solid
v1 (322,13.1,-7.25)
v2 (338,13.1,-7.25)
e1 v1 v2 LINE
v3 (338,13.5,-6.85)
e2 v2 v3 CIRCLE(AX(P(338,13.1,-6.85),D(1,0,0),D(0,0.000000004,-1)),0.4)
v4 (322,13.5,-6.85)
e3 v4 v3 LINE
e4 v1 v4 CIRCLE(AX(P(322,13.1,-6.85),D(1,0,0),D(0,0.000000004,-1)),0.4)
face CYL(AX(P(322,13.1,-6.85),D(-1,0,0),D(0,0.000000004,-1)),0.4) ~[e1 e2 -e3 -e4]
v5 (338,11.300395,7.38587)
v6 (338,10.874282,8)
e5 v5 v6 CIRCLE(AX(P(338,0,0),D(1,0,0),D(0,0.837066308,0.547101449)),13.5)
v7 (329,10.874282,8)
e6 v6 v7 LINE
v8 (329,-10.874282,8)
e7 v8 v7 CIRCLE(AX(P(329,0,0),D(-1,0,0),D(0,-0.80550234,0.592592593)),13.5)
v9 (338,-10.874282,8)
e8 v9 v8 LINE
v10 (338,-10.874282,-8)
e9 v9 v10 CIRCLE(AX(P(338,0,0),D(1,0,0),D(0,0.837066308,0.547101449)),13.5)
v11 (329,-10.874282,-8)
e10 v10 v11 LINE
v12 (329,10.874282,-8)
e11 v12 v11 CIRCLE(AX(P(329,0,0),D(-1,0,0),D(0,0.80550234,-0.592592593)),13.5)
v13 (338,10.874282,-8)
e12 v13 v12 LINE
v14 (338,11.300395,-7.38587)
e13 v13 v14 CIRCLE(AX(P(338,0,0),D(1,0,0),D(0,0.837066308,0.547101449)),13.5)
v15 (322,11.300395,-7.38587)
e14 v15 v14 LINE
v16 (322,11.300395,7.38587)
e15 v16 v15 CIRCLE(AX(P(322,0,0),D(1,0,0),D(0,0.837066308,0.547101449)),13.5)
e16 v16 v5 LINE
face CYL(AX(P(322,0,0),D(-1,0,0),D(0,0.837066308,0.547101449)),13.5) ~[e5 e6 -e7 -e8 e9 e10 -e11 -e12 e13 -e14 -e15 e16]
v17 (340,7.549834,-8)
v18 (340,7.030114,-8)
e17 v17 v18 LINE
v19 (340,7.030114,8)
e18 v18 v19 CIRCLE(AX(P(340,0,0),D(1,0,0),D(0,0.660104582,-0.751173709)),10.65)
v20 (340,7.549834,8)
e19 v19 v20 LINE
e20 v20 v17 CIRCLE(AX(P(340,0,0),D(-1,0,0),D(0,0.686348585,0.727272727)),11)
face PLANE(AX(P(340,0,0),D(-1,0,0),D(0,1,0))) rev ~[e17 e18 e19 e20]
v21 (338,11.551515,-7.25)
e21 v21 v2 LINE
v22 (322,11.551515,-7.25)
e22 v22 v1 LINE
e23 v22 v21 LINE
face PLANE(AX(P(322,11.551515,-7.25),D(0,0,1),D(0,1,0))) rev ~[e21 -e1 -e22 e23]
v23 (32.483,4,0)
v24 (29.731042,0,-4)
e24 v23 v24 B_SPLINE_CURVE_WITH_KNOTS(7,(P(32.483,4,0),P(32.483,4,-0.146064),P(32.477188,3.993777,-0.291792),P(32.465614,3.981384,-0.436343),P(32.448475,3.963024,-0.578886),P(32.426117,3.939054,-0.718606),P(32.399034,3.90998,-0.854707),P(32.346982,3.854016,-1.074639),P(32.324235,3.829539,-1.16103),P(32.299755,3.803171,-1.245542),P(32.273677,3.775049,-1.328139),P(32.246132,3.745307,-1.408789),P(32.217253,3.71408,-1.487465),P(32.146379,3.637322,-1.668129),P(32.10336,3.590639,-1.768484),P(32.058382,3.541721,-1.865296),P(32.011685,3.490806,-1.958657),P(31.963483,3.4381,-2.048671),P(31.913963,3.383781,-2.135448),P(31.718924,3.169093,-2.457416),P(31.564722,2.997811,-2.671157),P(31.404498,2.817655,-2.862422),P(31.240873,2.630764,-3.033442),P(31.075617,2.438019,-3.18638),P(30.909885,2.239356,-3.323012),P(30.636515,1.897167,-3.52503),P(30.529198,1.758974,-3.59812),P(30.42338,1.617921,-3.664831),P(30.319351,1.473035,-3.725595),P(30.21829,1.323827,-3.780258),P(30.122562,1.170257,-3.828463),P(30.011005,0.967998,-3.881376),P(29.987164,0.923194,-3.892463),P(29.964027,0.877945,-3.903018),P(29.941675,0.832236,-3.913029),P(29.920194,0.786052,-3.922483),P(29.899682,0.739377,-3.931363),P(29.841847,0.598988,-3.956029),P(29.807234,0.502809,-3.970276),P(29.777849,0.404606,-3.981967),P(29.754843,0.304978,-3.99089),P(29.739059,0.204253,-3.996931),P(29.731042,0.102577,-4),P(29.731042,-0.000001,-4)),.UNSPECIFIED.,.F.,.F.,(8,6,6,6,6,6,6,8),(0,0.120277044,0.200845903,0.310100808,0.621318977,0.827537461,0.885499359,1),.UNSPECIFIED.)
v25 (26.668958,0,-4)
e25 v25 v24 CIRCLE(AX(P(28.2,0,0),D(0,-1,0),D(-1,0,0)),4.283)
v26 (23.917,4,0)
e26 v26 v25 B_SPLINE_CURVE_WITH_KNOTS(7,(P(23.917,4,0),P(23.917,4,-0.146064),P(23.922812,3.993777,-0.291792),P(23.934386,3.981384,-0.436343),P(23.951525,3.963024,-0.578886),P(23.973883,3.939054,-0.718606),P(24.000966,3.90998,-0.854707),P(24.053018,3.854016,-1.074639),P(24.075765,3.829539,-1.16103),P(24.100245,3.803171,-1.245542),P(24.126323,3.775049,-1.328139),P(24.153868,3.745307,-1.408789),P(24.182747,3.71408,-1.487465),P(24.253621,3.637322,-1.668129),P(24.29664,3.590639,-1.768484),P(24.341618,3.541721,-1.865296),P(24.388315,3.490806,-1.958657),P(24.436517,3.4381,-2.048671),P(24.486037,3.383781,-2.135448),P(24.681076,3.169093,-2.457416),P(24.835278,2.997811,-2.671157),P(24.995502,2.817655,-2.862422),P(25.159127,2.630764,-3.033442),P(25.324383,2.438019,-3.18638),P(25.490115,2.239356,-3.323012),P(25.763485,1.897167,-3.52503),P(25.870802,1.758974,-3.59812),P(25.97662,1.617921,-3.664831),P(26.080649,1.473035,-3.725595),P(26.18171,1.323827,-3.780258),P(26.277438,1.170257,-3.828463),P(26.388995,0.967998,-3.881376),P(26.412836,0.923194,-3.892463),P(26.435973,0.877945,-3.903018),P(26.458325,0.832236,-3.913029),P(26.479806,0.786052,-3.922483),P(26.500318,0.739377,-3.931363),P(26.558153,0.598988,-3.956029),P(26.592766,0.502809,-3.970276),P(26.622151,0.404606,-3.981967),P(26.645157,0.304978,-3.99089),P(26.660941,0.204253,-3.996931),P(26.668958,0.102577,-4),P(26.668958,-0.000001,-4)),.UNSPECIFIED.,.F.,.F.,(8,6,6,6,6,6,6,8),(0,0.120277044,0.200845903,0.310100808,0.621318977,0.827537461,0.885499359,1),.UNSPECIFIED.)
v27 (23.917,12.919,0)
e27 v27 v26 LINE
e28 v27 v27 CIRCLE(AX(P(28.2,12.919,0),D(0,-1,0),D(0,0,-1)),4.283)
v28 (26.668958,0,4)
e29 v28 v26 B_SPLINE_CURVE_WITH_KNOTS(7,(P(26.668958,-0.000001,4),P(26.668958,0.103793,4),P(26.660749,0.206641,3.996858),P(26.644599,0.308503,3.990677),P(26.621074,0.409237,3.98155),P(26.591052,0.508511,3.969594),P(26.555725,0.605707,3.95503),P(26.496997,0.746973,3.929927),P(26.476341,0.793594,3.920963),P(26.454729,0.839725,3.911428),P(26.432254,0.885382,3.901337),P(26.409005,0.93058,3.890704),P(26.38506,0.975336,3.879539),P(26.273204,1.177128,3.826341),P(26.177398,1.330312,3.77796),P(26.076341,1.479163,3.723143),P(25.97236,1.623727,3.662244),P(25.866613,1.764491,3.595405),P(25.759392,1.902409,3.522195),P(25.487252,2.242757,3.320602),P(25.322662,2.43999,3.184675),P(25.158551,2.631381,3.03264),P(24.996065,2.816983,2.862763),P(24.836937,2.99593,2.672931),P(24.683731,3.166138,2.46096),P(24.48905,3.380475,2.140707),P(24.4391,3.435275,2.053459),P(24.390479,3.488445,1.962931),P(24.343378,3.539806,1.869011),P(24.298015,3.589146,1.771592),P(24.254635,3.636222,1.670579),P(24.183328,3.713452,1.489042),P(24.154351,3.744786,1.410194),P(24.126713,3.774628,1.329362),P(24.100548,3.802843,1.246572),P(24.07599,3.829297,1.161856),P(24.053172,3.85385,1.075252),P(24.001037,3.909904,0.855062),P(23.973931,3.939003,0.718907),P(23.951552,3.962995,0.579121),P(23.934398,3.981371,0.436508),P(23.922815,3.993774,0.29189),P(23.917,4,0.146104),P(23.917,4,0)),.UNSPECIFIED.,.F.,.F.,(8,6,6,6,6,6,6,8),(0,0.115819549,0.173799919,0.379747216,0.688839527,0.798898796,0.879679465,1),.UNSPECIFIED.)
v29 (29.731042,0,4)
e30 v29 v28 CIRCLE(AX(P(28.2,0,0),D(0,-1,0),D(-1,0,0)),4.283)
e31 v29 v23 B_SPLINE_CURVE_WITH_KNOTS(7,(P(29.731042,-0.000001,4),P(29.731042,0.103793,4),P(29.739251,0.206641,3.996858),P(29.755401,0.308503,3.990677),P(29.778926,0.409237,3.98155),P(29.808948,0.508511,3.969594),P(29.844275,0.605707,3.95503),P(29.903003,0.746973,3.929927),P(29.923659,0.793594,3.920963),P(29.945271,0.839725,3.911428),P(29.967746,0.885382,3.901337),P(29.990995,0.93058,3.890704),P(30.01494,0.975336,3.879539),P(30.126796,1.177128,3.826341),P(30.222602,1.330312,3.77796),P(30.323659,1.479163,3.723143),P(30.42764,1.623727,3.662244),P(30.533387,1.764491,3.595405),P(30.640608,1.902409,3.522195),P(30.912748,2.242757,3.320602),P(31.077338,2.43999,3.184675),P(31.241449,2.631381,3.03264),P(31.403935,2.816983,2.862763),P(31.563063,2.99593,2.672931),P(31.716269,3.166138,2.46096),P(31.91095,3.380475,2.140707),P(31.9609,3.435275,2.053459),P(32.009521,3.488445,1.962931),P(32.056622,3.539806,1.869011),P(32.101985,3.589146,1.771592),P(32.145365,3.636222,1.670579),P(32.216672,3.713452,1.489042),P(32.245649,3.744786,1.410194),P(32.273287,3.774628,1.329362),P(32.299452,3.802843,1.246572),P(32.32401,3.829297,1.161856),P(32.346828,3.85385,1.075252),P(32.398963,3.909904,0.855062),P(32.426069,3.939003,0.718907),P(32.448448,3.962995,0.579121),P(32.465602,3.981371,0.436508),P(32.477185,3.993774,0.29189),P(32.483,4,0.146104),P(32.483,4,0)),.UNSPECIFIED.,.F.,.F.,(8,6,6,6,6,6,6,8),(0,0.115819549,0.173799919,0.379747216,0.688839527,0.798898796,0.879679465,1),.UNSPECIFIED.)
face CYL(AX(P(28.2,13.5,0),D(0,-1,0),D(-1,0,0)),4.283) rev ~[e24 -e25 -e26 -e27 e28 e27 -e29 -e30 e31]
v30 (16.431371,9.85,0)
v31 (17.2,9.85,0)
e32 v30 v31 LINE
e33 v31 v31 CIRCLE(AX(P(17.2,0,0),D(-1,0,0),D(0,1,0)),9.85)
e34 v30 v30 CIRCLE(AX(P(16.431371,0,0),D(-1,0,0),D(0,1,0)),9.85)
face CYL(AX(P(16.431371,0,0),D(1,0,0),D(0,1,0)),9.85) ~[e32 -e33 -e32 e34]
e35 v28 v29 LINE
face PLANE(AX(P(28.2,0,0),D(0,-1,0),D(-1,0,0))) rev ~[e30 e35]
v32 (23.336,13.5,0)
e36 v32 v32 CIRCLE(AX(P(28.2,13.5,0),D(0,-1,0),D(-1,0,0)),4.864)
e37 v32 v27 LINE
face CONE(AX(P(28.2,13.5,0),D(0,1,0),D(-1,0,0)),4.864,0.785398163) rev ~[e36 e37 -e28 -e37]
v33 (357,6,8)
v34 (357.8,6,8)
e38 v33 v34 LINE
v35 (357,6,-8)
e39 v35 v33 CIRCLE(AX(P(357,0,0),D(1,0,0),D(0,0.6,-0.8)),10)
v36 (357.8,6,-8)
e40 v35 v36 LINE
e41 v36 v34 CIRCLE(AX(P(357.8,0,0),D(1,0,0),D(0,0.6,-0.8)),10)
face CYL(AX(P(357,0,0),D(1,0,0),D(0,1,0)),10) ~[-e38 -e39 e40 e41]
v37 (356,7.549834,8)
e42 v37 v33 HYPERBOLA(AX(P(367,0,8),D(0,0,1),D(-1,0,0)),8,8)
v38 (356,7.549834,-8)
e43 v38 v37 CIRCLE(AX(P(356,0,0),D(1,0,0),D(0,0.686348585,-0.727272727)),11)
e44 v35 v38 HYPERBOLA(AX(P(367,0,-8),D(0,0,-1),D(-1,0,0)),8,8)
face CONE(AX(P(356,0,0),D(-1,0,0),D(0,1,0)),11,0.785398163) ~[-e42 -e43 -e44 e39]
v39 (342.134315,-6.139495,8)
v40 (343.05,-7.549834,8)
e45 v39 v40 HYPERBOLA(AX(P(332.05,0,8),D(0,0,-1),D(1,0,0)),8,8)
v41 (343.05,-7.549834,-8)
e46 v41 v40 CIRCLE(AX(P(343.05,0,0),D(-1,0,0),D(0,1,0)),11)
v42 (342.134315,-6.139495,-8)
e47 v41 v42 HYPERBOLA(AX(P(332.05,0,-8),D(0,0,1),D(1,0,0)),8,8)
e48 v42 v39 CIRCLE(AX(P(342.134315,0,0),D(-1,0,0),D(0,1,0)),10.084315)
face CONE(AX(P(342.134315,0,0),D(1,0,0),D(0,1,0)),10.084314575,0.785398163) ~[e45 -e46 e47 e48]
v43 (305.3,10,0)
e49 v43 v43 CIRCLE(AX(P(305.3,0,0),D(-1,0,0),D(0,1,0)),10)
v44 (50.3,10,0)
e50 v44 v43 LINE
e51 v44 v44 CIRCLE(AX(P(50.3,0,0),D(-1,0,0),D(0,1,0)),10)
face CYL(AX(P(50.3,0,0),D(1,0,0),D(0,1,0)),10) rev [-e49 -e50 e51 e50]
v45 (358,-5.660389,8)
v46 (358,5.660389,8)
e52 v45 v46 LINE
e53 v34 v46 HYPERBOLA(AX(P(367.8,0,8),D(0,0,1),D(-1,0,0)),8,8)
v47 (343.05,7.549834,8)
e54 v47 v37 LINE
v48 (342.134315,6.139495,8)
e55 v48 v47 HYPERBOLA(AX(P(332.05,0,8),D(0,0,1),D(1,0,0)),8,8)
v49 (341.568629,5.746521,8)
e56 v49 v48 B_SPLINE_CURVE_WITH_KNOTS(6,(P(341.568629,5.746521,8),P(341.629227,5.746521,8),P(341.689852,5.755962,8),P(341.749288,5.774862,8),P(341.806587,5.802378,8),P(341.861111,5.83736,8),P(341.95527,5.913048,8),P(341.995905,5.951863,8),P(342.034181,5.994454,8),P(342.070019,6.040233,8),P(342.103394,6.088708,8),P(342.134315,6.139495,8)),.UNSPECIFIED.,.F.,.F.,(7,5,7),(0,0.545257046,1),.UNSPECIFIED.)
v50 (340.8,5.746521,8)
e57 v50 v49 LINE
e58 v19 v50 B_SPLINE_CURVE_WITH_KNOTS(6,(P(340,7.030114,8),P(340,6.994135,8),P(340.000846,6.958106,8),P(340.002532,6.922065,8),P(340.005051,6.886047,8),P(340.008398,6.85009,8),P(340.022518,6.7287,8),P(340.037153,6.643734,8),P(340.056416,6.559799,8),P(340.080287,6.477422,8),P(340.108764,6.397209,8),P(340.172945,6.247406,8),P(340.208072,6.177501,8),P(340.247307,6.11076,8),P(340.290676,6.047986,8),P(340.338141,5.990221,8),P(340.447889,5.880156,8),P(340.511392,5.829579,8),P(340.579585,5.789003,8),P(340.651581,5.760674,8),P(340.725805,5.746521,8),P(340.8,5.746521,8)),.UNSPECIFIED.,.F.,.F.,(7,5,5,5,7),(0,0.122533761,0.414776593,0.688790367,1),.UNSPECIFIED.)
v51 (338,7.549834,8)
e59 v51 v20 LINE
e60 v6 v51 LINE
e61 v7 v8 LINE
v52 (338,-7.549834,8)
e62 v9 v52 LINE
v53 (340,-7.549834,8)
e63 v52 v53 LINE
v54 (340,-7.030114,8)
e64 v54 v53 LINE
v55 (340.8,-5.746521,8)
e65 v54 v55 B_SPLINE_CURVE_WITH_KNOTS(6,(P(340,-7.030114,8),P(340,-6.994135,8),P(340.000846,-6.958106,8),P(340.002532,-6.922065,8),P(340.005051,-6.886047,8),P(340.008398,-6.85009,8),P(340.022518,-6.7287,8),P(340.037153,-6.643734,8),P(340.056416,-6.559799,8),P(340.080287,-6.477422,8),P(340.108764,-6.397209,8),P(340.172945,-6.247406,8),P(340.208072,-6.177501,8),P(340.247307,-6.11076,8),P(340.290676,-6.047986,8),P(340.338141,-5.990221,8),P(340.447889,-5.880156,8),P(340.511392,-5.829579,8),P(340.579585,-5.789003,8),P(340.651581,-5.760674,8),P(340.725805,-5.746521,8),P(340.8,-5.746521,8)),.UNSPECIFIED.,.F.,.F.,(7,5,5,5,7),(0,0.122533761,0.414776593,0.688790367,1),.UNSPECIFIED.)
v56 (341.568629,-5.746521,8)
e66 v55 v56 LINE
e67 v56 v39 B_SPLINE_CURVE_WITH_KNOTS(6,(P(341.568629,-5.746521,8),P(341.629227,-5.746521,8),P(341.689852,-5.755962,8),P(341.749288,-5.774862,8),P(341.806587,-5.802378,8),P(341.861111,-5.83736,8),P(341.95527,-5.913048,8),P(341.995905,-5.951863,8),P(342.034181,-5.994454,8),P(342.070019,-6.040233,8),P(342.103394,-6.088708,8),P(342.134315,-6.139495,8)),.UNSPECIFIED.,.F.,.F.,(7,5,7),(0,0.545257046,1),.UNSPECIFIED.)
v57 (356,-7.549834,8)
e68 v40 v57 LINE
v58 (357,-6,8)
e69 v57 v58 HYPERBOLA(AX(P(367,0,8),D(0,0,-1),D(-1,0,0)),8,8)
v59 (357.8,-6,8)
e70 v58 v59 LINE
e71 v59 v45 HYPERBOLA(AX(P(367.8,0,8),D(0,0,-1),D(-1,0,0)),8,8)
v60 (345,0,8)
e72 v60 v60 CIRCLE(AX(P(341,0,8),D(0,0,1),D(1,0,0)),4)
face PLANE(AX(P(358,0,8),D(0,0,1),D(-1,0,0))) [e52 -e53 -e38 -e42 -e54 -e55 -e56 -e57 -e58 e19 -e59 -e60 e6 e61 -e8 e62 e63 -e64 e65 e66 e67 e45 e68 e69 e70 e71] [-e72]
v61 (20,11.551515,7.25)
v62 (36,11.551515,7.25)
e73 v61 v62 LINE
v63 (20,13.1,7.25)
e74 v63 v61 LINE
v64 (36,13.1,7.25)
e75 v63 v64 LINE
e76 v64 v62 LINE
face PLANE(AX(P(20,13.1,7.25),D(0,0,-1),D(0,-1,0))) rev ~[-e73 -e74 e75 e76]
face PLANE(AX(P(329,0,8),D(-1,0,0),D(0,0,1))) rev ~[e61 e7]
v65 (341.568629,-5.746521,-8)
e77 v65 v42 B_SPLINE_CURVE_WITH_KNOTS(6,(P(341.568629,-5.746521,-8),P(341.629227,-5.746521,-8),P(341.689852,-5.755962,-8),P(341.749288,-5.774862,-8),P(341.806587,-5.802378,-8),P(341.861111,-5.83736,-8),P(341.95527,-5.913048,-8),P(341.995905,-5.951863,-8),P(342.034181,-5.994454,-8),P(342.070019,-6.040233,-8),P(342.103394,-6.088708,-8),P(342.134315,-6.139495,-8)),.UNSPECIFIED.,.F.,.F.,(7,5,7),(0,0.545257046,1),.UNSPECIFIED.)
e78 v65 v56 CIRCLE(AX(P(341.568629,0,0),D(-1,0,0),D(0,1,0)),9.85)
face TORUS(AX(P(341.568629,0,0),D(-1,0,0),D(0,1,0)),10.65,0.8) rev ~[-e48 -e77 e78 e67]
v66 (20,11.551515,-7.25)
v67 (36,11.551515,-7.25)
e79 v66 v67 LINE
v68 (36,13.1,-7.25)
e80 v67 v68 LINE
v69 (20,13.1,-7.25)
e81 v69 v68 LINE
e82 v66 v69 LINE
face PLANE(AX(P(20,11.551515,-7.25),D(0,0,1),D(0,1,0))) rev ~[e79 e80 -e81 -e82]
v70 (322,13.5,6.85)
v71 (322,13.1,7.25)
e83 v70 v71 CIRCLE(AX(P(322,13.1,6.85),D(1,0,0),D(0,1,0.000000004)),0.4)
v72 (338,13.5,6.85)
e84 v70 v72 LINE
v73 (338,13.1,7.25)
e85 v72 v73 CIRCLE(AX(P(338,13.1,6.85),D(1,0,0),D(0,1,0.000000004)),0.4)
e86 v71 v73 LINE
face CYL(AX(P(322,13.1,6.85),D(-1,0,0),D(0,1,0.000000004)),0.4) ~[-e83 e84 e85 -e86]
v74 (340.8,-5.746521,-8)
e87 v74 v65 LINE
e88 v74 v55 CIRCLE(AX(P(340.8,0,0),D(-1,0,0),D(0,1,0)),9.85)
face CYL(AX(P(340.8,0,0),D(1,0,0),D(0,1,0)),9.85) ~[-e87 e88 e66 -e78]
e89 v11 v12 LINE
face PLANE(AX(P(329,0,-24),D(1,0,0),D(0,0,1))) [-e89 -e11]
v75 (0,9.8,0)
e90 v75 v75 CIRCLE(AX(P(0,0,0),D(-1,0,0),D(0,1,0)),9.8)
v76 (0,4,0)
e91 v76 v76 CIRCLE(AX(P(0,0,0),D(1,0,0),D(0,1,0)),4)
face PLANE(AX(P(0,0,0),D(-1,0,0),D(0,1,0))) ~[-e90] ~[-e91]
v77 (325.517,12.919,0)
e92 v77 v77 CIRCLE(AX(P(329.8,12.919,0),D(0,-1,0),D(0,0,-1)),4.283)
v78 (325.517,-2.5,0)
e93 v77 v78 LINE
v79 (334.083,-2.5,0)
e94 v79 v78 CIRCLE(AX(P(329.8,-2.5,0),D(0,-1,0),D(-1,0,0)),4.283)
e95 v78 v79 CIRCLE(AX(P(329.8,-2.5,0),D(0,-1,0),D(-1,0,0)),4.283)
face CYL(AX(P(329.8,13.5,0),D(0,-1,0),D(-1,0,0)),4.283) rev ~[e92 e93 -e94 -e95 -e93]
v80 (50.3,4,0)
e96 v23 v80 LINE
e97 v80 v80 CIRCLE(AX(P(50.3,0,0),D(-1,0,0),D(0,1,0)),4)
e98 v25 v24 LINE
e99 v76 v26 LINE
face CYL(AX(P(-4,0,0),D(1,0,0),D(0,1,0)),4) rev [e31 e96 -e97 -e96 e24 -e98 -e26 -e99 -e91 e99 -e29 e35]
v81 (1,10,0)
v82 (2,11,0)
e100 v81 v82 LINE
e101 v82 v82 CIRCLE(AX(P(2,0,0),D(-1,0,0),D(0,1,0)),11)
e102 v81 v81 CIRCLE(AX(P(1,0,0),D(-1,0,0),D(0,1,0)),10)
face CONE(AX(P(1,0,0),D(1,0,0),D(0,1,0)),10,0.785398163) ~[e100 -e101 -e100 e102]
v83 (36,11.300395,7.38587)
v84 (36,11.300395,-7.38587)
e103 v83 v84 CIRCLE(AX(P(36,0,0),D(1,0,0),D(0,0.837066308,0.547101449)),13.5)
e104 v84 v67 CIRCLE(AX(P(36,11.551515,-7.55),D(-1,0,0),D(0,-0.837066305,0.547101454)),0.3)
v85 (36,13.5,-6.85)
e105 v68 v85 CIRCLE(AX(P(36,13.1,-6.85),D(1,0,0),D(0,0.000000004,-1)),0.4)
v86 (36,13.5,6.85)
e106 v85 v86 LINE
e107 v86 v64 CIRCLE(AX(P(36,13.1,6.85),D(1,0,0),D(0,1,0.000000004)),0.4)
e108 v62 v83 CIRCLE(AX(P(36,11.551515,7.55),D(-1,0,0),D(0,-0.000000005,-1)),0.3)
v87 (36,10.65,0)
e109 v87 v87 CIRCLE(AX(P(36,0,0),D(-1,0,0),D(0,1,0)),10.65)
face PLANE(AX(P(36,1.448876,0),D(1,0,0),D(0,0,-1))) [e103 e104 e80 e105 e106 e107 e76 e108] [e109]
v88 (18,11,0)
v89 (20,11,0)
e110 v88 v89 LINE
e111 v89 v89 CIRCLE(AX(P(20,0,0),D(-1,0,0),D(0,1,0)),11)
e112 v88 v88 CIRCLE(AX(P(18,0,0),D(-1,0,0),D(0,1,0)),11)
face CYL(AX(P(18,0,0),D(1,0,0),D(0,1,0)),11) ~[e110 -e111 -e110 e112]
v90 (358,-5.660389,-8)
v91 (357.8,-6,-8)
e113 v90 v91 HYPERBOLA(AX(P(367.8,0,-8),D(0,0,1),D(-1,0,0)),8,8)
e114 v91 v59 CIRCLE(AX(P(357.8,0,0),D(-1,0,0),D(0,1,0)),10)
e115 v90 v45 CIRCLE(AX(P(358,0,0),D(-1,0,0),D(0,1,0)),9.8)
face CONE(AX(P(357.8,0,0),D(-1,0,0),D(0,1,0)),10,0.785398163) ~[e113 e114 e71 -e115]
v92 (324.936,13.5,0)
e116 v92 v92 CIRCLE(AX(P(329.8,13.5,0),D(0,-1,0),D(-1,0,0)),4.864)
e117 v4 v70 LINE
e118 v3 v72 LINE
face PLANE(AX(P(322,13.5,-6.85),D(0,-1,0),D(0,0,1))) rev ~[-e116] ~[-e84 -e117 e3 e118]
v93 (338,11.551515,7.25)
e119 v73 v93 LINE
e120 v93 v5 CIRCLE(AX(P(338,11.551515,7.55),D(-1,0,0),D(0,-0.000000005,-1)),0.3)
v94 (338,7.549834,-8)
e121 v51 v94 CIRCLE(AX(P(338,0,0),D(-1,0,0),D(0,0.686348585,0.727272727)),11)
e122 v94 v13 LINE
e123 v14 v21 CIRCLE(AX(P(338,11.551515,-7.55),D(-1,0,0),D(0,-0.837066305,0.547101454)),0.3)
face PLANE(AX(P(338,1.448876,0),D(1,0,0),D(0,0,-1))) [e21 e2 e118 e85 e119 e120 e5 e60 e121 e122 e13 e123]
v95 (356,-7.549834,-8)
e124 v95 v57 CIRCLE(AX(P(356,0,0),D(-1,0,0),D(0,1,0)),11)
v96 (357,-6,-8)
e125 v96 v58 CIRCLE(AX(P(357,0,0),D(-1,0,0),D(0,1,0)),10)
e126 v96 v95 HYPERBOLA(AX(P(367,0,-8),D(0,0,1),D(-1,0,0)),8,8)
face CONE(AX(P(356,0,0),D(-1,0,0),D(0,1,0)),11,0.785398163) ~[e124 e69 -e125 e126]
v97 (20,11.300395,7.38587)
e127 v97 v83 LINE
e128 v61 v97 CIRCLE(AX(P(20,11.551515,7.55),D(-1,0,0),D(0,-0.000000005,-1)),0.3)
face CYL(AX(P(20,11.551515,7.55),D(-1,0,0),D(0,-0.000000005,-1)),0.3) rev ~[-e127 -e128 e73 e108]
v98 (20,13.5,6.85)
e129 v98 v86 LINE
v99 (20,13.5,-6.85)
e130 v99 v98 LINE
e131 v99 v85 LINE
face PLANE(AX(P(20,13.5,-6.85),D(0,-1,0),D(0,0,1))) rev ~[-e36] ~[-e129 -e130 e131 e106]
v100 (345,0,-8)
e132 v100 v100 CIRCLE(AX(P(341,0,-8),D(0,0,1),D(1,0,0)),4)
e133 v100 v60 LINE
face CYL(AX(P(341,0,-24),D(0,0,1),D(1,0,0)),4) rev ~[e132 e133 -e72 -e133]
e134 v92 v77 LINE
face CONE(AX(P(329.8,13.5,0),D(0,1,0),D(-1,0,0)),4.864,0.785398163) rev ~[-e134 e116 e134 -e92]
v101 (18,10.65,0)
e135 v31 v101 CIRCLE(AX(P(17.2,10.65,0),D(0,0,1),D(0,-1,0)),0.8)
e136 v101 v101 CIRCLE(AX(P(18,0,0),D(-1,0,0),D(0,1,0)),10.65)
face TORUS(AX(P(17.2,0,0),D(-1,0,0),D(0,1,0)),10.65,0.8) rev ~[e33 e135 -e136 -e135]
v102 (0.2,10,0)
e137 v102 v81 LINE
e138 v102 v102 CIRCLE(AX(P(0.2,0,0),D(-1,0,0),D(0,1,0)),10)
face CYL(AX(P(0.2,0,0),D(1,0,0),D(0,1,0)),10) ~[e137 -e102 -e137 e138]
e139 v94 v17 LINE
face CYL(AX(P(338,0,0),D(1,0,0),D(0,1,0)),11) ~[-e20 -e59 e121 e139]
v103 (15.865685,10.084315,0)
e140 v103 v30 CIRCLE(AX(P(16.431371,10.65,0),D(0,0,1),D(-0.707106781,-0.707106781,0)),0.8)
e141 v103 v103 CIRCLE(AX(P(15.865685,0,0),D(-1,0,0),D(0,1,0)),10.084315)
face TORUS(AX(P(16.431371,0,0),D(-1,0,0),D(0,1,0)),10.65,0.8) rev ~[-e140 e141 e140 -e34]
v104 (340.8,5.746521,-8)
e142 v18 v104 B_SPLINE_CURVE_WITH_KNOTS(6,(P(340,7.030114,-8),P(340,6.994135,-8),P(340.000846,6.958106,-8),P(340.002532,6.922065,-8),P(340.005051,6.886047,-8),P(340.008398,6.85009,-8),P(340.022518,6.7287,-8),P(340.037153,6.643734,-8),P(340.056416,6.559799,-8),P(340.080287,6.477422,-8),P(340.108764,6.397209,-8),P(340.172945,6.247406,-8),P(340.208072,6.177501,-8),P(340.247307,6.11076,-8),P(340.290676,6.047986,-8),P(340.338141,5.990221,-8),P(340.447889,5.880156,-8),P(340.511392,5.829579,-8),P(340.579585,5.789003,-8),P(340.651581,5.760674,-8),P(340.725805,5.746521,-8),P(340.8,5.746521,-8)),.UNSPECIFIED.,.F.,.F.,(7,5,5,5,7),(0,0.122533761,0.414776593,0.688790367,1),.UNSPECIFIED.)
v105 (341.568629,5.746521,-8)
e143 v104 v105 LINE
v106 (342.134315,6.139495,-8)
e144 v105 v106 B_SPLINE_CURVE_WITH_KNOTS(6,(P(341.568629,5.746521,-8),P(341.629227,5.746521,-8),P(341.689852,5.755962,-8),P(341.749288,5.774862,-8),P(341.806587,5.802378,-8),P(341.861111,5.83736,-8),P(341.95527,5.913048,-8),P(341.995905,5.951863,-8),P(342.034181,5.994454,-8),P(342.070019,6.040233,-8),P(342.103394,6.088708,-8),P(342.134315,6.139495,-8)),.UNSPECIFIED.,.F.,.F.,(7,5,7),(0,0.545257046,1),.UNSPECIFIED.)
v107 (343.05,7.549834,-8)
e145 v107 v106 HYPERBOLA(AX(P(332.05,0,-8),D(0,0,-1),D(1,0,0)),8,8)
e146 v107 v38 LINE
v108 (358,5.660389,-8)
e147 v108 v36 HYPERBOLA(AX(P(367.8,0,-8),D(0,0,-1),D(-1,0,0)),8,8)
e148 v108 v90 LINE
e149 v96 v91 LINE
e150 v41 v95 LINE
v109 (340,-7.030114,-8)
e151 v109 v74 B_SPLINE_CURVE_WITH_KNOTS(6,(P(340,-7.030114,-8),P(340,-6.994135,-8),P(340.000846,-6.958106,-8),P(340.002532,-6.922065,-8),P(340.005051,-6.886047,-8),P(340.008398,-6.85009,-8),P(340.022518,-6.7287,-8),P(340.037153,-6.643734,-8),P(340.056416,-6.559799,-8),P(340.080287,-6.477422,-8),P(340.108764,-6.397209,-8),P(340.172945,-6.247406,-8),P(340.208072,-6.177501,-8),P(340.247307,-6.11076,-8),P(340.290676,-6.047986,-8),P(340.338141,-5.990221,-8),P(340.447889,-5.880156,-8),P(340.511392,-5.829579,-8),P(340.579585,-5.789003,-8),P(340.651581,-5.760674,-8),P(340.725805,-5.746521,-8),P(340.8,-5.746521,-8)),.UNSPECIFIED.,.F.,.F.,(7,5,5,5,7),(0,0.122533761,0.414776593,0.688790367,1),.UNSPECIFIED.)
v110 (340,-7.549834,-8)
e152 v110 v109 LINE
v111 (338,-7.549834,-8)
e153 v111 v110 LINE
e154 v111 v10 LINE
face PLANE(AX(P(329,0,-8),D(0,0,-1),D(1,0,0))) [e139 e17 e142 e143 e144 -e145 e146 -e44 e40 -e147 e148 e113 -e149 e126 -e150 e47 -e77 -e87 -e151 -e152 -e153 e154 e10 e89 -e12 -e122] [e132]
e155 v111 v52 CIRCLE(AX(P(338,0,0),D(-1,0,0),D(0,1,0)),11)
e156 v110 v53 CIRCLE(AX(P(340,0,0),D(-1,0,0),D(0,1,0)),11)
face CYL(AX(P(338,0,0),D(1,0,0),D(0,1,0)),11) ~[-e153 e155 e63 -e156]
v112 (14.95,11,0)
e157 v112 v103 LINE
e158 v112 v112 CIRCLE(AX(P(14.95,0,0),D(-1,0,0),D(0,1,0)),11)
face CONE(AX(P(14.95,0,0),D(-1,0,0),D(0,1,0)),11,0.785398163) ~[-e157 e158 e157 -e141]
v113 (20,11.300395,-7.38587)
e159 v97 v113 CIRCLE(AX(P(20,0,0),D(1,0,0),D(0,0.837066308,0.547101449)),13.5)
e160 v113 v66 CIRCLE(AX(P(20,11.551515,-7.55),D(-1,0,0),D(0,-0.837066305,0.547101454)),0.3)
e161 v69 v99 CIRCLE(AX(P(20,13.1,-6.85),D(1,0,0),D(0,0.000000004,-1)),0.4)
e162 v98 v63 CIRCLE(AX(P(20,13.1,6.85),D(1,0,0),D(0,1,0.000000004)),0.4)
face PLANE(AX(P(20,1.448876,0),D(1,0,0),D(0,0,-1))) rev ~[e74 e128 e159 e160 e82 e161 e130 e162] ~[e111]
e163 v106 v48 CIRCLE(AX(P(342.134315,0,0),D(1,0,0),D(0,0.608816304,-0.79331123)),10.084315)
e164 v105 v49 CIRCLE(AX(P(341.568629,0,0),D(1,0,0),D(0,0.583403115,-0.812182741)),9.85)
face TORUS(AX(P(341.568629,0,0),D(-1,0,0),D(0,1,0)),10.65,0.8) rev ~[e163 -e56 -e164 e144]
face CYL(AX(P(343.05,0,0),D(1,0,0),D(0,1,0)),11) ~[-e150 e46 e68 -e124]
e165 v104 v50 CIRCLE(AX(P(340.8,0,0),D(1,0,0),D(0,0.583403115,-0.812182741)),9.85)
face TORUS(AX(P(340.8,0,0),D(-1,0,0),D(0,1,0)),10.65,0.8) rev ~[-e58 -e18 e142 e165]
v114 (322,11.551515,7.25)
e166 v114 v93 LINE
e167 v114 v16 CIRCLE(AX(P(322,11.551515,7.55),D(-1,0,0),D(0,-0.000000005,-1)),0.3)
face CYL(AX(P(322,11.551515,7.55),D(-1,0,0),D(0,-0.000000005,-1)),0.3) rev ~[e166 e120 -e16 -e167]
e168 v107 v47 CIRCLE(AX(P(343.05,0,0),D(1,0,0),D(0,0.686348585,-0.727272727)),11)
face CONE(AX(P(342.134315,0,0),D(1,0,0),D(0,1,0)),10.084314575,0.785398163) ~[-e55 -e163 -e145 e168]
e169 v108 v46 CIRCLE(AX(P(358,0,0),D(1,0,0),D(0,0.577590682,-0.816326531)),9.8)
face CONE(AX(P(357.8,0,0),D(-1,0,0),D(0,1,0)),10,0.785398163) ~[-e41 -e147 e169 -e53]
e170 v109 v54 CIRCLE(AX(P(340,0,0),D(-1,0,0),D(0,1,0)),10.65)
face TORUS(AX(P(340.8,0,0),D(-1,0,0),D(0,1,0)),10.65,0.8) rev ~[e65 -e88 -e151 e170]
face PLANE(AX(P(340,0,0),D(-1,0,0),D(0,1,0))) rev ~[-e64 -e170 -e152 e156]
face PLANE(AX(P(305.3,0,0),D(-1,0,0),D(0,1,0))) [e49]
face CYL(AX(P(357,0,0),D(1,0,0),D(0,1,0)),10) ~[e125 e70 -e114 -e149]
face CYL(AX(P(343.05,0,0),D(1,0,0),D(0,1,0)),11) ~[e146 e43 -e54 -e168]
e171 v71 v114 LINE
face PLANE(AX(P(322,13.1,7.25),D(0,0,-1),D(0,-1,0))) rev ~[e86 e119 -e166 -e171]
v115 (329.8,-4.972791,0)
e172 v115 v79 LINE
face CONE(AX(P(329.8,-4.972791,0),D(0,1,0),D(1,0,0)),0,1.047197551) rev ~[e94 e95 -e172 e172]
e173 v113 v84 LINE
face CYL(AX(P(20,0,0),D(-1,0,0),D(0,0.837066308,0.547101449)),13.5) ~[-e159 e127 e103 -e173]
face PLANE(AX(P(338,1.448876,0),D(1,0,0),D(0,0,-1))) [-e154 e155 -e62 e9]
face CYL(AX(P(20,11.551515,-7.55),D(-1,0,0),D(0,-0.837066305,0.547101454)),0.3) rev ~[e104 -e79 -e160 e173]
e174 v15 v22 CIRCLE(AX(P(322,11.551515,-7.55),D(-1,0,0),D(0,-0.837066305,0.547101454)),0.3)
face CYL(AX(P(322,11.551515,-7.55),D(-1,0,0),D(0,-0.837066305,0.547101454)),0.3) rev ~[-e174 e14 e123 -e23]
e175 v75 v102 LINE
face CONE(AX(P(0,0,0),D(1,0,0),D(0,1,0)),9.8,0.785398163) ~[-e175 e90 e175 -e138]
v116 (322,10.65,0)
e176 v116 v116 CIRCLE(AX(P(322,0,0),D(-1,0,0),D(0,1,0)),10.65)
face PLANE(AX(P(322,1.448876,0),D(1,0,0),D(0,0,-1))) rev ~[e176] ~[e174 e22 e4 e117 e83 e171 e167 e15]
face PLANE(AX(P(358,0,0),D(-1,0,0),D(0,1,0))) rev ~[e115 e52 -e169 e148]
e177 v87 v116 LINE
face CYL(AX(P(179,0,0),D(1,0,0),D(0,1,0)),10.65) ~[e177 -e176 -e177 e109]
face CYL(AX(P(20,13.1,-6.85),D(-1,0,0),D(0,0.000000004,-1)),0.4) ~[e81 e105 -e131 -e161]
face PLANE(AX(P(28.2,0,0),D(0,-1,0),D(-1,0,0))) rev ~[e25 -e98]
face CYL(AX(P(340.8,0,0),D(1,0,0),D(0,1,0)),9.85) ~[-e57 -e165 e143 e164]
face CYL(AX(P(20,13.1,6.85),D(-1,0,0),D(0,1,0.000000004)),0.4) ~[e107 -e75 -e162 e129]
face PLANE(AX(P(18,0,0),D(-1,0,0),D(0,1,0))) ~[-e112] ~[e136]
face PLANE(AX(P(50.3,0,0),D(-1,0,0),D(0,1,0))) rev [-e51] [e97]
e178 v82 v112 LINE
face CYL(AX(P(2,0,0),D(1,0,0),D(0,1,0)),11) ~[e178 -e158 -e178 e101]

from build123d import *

# Parameters (mm, degrees)
BOSS_EXTRUDE1_DEPTH     = 16
SKETCH3_W               = 286
SKETCH3_H               = 10.65
BOSS_EXTRUDE2_DEPTH     = 16
CUT_EXTRUDE1_DEPTH      = 13.5
CUT_EXTRUDE1_DEPTH_BACK = 13.5
HOLE1_D                 = 8
HOLE2_D                 = 8.566
HOLE2_DEPTH             = 13.5
HOLE2_CSINK_D           = 9.728
HOLE2_CSINK_ANGLE       = 90
HOLE3_D                 = 8.566
HOLE3_DEPTH             = 16
HOLE3_CSINK_D           = 9.728
HOLE3_CSINK_ANGLE       = 90
HOLE3_TIP               = 2.472791203


with BuildPart() as part:
    # Sketch1 → Revolve1 (revolve)
    with BuildSketch(Plane.XY):
        with BuildLine():
            Line((0, 0), (0, 9.8))
            Line((0, 9.8), (0.2, 10))
            Line((0.2, 10), (1, 10))
            Line((1, 10), (2, 11))
            Line((2, 11), (14.95, 11))
            Line((14.95, 11), (15.865685425, 10.084314575))
            ThreePointArc((15.865685425, 10.084314575), (16.125224104, 9.910896374), (16.43137085, 9.85))
            Line((16.43137085, 9.85), (17.2, 9.85))
            ThreePointArc((17.2, 9.85), (17.765685425, 10.084314575), (18, 10.65))
            Line((18, 10.65), (18, 11))
            Line((18, 11), (20, 11))
            Line((20, 11), (20, 0))
            Line((20, 0), (0, 0))
        make_face()
    revolve(axis=Axis((20, 0, 0), (-1, 0, 0)))

    # Sketch2 → Boss-Extrude1 (add)
    with BuildSketch(Plane(origin=(20, 0, 0), x_dir=(0, 0, -1), z_dir=(1, 0, 0))):
        with BuildLine():
            Line((7.25, 11.551515052), (7.25, 13.1))
            ThreePointArc((7.25, 13.1), (7.132842712, 13.382842712), (6.85, 13.5))
            Line((6.85, 13.5), (-6.85, 13.5))
            ThreePointArc((-6.85, 13.5), (-7.132842712, 13.382842712), (-7.25, 13.1))
            Line((-7.25, 13.1), (-7.25, 11.551515052))
            ThreePointArc((-7.25, 11.551515052), (-7.286144803, 11.408754992), (-7.385869565, 11.30039516))
            ThreePointArc((-7.385869565, 11.30039516), (0, -13.5), (7.385869565, 11.30039516))
            ThreePointArc((7.385869565, 11.30039516), (7.286144803, 11.408754992), (7.25, 11.551515052))
        make_face()
    extrude(amount=BOSS_EXTRUDE1_DEPTH)

    # Sketch3 → Revolve2 (revolve)
    with BuildSketch(Plane.XY):
        with Locations((179, 5.325)):
            Rectangle(SKETCH3_W, SKETCH3_H)
    revolve(axis=Axis((322, 0, 0), (-1, 0, 0)))

    # Sketch4 → Boss-Extrude2 (add)
    with BuildSketch(Plane(origin=(322, 0, 0), x_dir=(0, 0, -1), z_dir=(1, 0, 0))):
        with BuildLine():
            Line((7.25, 11.551515052), (7.25, 13.1))
            ThreePointArc((7.25, 13.1), (7.132842712, 13.382842712), (6.85, 13.5))
            Line((6.85, 13.5), (-6.85, 13.5))
            ThreePointArc((-6.85, 13.5), (-7.132842712, 13.382842712), (-7.25, 13.1))
            Line((-7.25, 13.1), (-7.25, 11.551515052))
            ThreePointArc((-7.25, 11.551515052), (-7.286144803, 11.408754992), (-7.385869565, 11.30039516))
            ThreePointArc((-7.385869565, 11.30039516), (0, -13.5), (7.385869565, 11.30039516))
            ThreePointArc((7.385869565, 11.30039516), (7.286144803, 11.408754992), (7.25, 11.551515052))
        make_face()
    extrude(amount=BOSS_EXTRUDE2_DEPTH)

    # Sketch5 → Revolve3 (revolve)
    with BuildSketch(Plane.XY):
        with BuildLine():
            Line((338, 0), (338, 11))
            Line((338, 11), (340, 11))
            Line((340, 11), (340, 10.65))
            ThreePointArc((340, 10.65), (340.234314575, 10.084314575), (340.8, 9.85))
            Line((340.8, 9.85), (341.56862915, 9.85))
            ThreePointArc((341.56862915, 9.85), (341.874775896, 9.910896374), (342.134314575, 10.084314575))
            Line((342.134314575, 10.084314575), (343.05, 11))
            Line((343.05, 11), (356, 11))
            Line((356, 11), (357, 10))
            Line((357, 10), (357.8, 10))
            Line((357.8, 10), (358, 9.8))
            Line((358, 9.8), (358, 0))
            Line((358, 0), (338, 0))
        make_face()
    revolve(axis=Axis((358, 0, 0), (-1, 0, 0)))

    # Sketch6 → Cut-Extrude1 (cut, two sides: drawn at the far end of the back side and taken through both)
    with BuildSketch(Plane(origin=(0, 0, 0), x_dir=(1, 0, 0), z_dir=(0, 1, 0)).offset(-CUT_EXTRUDE1_DEPTH_BACK)):
        Polygon((329, 24), (329, 8), (358, 8), (358, -8), (329, -8), (329, -24), (374, -24), (374, 24), align=None)
    extrude(amount=CUT_EXTRUDE1_DEPTH + CUT_EXTRUDE1_DEPTH_BACK, mode=Mode.SUBTRACT)

    # Hole1 (through all)
    with Locations(Plane(origin=(0, 0, -8), x_dir=(-1, 0, 0), z_dir=(0, 0, -1))):
        with Locations((-341, 0)):
            Hole(HOLE1_D / 2)

    # Hole2
    with Locations(Plane(origin=(0, 13.5, 0), x_dir=(1, 0, 0), z_dir=(0, 1, 0))):
        with Locations((28.2, 0)):
            CounterSinkHole(HOLE2_D / 2, HOLE2_CSINK_D / 2, depth=HOLE2_DEPTH, counter_sink_angle=HOLE2_CSINK_ANGLE)

    # Hole3
    with Locations(Plane(origin=(0, 13.5, 0), x_dir=(1, 0, 0), z_dir=(0, 1, 0))):
        with Locations((329.8, 0)):
            CounterSinkHole(HOLE3_D / 2, HOLE3_CSINK_D / 2, depth=HOLE3_DEPTH, counter_sink_angle=HOLE3_CSINK_ANGLE)
            with Locations((0, 0, -(HOLE3_DEPTH + HOLE3_TIP / 2))):  # 120° drill point
                Cone(0, HOLE3_D / 2, HOLE3_TIP, mode=Mode.SUBTRACT)

    # Sketch13 → Cut-Revolve1 (revolve, cut)
    with BuildSketch(Plane.XY):
        Polygon((-4, 0), (-4, 4), (50.3, 4), (50.3, 10), (305.3, 10), (305.3, 0), align=None)
    revolve(axis=Axis((305.3, 0, 0), (-1, 0, 0)), mode=Mode.SUBTRACT)


solid = part.part
